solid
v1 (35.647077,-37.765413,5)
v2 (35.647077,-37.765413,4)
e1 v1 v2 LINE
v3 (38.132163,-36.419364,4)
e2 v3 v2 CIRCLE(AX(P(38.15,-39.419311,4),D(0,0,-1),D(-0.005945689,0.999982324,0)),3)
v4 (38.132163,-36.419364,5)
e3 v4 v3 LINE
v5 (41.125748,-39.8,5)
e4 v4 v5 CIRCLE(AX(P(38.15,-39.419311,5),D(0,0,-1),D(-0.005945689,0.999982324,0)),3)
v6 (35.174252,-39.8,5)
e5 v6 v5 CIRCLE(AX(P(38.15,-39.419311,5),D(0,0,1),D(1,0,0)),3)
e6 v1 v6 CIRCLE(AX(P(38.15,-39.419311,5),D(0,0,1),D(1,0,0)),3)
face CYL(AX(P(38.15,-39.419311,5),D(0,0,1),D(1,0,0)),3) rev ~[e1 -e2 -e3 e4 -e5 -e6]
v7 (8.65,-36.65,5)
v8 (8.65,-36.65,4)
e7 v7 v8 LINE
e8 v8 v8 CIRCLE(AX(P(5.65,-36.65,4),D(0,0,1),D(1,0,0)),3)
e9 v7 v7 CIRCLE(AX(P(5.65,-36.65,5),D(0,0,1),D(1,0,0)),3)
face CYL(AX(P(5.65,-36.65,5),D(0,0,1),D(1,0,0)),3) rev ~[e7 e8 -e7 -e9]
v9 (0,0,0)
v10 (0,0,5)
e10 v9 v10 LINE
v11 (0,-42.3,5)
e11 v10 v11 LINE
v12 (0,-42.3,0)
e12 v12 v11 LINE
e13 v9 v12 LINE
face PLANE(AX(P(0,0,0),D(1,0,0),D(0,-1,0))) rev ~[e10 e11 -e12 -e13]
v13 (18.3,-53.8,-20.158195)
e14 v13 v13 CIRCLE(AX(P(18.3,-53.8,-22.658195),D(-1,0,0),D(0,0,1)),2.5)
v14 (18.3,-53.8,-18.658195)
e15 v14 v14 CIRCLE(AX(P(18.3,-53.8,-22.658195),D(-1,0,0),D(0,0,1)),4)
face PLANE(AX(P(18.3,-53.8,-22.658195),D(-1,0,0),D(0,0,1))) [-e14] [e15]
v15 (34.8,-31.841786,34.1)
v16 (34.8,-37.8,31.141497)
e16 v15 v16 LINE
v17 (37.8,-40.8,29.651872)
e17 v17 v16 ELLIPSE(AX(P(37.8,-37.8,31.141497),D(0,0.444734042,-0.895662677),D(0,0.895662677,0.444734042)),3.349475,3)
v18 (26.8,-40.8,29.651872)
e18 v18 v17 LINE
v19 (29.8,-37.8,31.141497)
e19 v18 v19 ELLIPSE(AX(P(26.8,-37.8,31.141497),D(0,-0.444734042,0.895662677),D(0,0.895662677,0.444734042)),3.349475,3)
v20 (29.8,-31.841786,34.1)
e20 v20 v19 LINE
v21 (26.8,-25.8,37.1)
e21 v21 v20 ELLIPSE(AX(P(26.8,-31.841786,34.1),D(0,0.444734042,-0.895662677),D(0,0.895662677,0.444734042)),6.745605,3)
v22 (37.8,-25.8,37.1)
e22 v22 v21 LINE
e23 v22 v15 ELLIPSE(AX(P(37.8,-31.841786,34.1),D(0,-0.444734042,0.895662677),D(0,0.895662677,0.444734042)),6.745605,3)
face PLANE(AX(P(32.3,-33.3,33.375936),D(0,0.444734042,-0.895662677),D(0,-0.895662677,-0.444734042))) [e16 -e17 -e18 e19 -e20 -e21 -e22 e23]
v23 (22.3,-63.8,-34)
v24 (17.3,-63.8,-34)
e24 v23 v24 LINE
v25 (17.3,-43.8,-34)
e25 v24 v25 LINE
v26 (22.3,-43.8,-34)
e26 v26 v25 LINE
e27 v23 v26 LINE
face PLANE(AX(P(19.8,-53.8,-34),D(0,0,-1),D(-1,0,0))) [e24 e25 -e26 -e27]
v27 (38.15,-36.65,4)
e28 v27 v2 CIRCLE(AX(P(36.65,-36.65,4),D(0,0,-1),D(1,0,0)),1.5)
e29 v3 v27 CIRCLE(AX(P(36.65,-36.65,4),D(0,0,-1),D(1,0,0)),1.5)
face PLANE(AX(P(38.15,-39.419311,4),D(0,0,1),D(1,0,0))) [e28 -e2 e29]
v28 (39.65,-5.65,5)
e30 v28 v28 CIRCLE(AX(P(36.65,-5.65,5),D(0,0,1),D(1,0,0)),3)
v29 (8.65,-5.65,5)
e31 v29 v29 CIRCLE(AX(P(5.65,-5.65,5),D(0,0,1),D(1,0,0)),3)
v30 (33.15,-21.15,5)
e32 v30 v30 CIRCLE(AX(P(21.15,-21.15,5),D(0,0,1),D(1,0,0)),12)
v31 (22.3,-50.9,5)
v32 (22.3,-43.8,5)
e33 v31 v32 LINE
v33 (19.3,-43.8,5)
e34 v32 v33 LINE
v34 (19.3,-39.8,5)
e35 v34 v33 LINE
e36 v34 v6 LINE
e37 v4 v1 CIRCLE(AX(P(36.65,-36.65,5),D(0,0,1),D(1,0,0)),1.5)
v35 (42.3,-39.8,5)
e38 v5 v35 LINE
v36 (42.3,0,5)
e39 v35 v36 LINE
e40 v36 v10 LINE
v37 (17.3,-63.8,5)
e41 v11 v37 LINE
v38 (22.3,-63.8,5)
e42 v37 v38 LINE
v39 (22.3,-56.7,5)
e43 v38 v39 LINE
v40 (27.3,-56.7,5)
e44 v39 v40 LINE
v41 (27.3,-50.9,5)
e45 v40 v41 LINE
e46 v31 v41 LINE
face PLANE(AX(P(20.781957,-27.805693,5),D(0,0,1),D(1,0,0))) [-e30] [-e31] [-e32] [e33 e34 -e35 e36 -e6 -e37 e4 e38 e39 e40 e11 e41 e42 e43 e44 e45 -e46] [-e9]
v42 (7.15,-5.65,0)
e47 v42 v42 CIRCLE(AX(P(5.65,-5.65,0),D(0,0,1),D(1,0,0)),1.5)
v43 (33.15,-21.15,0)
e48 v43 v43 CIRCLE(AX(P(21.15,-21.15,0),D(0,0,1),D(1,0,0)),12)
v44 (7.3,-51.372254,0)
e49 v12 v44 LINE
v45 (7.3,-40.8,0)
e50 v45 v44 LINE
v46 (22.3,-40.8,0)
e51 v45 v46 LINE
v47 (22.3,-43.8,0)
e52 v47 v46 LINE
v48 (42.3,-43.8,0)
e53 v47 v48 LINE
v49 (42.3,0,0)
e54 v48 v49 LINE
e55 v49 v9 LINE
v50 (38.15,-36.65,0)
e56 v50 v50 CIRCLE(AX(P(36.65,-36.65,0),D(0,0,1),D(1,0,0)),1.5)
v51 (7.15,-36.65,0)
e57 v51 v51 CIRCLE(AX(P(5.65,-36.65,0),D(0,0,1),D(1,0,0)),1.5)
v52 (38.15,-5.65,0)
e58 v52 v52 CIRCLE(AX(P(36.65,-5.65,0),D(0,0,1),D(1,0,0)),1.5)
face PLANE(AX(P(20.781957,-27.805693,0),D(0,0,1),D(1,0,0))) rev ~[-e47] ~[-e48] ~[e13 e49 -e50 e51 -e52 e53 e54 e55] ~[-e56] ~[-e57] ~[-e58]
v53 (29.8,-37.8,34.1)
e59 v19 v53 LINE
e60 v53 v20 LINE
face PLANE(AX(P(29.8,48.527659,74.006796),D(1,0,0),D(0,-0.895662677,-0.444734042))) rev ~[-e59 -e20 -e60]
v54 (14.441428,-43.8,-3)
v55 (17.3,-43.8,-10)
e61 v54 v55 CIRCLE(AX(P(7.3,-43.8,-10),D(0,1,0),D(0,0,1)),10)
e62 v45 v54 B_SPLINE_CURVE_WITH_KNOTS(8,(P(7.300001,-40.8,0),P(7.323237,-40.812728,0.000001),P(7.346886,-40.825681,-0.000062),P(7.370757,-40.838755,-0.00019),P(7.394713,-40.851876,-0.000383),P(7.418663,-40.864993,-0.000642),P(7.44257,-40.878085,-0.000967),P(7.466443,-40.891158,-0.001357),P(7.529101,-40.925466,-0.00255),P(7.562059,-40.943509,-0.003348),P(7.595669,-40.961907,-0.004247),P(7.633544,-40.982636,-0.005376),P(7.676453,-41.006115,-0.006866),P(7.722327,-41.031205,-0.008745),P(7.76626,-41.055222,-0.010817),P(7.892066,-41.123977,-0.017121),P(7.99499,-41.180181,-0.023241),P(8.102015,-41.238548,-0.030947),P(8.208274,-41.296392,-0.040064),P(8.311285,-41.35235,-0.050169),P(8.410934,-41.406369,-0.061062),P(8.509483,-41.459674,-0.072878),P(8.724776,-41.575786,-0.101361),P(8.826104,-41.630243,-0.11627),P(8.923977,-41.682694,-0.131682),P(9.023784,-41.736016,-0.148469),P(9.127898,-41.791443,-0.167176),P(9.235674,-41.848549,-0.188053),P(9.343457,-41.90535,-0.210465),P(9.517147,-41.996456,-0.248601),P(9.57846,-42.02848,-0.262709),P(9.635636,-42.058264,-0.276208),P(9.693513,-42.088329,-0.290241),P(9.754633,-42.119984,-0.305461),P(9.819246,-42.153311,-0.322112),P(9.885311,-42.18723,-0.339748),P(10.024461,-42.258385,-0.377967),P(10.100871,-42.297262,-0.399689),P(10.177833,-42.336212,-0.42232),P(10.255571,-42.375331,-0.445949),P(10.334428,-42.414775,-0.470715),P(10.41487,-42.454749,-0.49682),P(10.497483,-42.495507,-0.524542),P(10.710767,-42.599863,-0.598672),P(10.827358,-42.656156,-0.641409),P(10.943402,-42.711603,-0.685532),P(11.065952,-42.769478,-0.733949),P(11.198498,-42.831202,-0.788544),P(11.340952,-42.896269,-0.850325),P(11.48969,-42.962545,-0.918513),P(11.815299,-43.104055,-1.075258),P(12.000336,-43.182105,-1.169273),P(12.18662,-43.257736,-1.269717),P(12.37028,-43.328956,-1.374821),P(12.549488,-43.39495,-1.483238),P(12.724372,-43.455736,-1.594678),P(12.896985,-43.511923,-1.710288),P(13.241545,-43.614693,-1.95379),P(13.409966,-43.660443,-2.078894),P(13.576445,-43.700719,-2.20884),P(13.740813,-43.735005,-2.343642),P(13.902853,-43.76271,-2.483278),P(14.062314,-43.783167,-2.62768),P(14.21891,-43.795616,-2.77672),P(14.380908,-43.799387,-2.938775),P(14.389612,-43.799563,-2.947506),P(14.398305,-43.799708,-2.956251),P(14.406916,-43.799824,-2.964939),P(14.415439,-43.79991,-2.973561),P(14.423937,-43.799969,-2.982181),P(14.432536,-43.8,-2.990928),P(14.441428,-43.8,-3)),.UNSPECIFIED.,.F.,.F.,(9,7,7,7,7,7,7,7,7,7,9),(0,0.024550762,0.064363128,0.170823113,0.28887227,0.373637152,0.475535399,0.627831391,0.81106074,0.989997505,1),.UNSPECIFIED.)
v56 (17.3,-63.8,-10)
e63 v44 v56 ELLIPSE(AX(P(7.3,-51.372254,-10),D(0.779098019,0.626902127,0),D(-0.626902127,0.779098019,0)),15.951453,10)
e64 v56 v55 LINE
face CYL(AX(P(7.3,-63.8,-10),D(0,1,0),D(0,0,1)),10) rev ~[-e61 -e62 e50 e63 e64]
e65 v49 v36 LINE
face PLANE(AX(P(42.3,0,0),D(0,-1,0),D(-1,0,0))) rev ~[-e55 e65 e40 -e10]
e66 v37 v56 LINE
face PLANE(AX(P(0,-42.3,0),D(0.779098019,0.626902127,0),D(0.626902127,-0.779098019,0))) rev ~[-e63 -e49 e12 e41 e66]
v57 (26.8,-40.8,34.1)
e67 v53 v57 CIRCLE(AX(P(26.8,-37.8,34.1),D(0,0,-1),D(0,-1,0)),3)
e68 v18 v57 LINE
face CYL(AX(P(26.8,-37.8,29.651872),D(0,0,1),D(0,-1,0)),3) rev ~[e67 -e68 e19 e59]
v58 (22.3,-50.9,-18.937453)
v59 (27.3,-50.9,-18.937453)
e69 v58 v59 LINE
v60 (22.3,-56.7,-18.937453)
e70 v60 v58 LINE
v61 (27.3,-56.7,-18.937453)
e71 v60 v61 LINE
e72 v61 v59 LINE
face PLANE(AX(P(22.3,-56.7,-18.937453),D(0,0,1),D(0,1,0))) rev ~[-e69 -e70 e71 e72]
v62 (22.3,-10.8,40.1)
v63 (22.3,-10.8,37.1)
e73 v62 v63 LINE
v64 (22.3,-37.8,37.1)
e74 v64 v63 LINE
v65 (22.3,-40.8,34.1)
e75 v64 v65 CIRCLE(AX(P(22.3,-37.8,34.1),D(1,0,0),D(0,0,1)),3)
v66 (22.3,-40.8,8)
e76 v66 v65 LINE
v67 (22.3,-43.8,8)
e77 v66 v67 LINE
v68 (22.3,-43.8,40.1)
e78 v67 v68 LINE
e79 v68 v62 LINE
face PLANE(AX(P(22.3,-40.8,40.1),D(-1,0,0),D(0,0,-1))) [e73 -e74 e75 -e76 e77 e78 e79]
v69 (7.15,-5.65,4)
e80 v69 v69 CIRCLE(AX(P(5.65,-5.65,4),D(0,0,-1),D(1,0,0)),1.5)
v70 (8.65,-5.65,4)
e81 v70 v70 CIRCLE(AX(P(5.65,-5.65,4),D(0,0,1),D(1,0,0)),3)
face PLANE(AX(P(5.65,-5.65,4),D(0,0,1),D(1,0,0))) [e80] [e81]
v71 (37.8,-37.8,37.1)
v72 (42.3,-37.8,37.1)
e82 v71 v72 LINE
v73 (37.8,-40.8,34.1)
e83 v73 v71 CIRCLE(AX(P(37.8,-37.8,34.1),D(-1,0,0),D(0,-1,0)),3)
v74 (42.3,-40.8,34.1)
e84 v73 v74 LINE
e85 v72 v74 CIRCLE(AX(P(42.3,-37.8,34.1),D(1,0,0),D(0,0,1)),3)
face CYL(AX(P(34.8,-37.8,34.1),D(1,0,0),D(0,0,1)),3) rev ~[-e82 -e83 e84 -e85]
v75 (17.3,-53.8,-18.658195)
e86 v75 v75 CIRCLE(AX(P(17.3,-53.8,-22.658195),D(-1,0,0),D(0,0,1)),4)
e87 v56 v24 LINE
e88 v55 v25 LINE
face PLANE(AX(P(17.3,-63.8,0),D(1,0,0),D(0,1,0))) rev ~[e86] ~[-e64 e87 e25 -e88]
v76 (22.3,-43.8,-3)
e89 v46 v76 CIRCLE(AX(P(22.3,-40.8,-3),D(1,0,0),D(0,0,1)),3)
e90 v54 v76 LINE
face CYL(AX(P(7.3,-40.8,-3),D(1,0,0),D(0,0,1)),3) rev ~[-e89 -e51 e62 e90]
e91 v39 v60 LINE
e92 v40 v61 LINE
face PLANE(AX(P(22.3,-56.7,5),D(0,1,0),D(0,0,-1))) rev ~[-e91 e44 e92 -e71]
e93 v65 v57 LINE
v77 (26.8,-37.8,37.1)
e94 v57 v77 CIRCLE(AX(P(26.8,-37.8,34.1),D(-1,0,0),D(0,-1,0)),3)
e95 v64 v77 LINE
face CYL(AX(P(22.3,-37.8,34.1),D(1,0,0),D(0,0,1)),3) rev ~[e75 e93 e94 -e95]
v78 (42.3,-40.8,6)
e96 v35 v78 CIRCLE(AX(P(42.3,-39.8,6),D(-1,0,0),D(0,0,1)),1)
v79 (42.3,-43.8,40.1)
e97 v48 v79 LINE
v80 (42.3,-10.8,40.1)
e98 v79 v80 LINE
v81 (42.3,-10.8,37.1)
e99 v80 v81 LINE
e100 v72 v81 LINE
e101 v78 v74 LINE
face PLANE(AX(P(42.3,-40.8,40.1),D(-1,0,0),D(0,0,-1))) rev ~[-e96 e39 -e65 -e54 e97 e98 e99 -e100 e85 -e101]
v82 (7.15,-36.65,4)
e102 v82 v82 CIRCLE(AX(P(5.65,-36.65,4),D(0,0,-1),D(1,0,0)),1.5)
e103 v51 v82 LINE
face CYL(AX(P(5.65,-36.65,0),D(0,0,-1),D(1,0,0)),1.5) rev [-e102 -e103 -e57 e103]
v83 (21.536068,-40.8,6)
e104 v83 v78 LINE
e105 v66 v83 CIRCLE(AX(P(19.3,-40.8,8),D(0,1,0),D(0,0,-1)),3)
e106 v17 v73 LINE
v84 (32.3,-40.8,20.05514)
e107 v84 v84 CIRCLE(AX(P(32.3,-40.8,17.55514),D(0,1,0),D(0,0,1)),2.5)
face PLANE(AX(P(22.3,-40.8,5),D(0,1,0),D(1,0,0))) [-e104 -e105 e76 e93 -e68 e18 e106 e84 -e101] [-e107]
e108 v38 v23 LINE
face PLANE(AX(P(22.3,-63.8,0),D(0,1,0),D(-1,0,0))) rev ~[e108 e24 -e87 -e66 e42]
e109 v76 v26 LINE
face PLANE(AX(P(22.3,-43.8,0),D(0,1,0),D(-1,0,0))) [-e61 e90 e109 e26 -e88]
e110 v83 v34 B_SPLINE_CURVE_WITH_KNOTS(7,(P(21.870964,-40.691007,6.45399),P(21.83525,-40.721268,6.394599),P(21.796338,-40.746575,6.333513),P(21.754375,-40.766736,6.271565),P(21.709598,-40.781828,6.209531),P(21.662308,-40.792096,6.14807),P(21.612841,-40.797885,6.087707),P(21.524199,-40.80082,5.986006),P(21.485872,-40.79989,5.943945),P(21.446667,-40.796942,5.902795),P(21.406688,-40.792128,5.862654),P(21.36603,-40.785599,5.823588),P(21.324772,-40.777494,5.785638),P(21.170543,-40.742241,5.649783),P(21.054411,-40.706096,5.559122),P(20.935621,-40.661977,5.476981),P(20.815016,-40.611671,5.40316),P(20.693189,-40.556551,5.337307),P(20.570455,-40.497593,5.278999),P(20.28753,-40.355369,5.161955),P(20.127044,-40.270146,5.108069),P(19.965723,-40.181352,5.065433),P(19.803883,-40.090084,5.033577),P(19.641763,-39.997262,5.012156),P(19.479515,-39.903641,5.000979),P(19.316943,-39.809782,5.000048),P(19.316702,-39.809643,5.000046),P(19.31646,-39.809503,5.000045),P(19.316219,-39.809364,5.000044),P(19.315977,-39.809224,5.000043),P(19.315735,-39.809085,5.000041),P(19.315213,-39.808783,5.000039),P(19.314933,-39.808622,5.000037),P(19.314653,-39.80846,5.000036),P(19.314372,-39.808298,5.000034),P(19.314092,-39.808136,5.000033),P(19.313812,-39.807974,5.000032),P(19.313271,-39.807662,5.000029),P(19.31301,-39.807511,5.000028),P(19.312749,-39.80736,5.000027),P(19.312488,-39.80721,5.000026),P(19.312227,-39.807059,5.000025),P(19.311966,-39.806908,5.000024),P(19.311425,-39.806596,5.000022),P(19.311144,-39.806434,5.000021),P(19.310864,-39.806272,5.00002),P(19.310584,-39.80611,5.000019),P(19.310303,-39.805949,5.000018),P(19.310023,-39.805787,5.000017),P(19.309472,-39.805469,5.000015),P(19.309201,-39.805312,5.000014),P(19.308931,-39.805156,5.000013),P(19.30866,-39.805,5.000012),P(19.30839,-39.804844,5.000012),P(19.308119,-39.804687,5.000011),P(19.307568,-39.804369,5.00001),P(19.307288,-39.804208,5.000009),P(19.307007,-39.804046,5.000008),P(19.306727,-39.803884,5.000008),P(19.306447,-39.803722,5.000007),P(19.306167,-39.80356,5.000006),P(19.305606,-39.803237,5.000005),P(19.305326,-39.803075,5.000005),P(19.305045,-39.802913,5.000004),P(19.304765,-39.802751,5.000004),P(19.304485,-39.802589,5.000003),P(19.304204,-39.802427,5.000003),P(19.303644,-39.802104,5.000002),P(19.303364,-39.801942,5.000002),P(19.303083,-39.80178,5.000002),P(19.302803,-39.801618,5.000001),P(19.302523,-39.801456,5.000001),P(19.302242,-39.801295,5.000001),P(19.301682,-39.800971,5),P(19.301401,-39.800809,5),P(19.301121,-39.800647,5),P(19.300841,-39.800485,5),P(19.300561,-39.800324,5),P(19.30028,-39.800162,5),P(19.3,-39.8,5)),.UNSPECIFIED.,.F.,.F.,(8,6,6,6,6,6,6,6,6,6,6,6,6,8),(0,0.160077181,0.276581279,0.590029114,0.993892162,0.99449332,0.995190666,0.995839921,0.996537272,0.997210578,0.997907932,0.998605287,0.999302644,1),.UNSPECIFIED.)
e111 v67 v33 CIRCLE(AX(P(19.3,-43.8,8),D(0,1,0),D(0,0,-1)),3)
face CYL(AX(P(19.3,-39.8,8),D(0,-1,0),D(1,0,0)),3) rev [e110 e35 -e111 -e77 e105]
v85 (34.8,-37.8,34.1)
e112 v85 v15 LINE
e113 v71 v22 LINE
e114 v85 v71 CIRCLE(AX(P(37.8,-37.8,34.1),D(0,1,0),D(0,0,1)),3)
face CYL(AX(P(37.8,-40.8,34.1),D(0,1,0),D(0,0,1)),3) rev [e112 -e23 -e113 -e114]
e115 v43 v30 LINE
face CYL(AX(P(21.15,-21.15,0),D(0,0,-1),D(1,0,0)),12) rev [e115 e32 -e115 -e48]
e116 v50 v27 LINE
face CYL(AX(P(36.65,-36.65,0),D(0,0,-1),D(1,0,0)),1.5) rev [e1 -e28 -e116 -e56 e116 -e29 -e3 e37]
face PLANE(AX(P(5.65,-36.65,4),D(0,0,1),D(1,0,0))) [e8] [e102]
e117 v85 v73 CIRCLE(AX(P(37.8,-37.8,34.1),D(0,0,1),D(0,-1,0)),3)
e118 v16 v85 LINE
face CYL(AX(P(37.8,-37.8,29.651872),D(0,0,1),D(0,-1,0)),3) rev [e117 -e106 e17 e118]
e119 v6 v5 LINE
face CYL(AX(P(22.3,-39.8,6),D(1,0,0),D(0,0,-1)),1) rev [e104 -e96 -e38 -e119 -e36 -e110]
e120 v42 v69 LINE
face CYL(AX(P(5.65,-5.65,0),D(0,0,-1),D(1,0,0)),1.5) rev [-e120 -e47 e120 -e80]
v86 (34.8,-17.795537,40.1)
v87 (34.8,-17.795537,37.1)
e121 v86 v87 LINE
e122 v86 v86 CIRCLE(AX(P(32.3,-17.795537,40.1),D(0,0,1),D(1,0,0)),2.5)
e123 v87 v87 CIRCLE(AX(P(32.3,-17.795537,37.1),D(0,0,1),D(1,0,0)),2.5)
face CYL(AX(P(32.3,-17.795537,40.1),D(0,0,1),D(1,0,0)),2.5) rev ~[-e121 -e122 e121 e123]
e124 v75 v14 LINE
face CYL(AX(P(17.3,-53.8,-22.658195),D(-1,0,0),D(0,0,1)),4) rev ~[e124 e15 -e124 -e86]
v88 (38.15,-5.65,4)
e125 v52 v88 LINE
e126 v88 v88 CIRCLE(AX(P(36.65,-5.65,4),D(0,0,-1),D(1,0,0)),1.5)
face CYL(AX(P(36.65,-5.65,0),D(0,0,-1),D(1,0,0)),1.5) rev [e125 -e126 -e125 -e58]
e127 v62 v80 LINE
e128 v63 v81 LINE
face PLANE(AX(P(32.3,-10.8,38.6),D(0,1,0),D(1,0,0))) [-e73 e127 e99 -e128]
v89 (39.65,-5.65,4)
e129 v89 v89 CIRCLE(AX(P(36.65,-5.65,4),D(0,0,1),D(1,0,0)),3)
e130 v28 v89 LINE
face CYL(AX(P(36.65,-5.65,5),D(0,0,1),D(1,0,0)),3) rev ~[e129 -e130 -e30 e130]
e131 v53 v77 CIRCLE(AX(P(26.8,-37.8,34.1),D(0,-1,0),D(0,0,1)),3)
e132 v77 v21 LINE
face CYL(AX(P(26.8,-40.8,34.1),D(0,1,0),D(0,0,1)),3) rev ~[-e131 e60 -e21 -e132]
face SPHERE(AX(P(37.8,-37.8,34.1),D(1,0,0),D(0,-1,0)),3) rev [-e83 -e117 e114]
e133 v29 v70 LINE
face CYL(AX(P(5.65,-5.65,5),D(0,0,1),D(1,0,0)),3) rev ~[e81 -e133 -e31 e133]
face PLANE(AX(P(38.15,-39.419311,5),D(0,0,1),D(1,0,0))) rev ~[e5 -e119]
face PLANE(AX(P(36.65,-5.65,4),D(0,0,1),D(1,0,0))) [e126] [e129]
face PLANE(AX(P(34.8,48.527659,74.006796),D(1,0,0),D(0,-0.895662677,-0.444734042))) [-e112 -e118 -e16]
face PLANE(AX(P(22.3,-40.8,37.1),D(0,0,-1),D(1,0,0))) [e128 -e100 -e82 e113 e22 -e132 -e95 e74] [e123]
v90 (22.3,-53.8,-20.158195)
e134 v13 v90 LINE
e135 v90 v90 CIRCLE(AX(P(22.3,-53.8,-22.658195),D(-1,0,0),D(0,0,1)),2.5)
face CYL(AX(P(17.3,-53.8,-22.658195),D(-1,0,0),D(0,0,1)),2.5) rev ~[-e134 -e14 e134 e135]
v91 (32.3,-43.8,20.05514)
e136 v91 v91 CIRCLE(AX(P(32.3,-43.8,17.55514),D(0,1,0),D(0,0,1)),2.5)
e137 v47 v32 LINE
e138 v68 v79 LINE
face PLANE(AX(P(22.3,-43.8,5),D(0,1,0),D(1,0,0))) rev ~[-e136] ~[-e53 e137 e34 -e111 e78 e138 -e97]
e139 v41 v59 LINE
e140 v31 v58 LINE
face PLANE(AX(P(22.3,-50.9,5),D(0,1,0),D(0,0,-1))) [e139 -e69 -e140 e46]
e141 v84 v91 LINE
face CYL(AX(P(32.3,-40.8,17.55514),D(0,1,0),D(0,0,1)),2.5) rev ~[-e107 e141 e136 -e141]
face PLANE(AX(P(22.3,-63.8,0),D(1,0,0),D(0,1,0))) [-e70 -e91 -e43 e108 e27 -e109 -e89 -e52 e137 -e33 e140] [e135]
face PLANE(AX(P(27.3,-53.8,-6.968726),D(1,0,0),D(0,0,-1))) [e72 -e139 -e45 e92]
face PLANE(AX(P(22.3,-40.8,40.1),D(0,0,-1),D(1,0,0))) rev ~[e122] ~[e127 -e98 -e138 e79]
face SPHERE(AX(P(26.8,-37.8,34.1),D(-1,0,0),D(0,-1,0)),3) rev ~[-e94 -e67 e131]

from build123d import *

# Parameters (mm, degrees)
SKETCH_1_R          = 1.5
SKETCH_1_R_2        = 12
EXTRUDE_1_DEPTH     = 5
SKETCH_2_W          = 5
SKETCH_2_H          = 20
EXTRUDE_2_DEPTH     = 34
FILLET_2_R          = 10
SKETCH_4_W          = 20
SKETCH_4_H          = 3
EXTRUDE_3_DEPTH     = 35.1
FILLET_3_R          = 1
SKETCH_5_W          = 20
SKETCH_5_H          = 3
EXTRUDE_4_DEPTH     = 30
RIB_1_REACH         = 83.986
SKETCH_8_WALL_W     = 182.719813126
SKETCH_8_WALL_H     = 5
SKETCH_9_R          = 2.5
CUT_EXTRUDE_1_DEPTH = 30
SKETCH_10_R         = 2.5
CUT_EXTRUDE_2_DEPTH = 30
SKETCH_11_R         = 2.5
CUT_EXTRUDE_3_DEPTH = 30
SKETCH_12_R         = 3
CUT_EXTRUDE_4_DEPTH = 1
SKETCH_13_R         = 4
CUT_EXTRUDE_5_DEPTH = 1
SKETCH_14_W         = 23.937452614
SKETCH_14_H         = 5.8
EXTRUDE_5_DEPTH     = 5
FILLET_4_R          = 3


with BuildPart() as part:
    # 草图1 → 凸台-拉伸1 (new body)
    # profile 1 of 2: a face of its own
    with BuildSketch(Plane.XY):
        Polygon((42.3, 0), (0, 0), (0, -42.3), (17.3, -63.8), (22.3, -63.8), (22.3, -43.8), (42.3, -43.8), (42.3, -42.3), align=None)
        with Locations((5.65, -36.65)):
            Circle(SKETCH_1_R, mode=Mode.SUBTRACT)
        with Locations((36.65, -36.65)):
            Circle(SKETCH_1_R, mode=Mode.SUBTRACT)
        with Locations((21.15, -21.15)):
            Circle(SKETCH_1_R_2, mode=Mode.SUBTRACT)
        with Locations((5.65, -5.65)):
            Circle(SKETCH_1_R, mode=Mode.SUBTRACT)
        with Locations((36.65, -5.65)):
            Circle(SKETCH_1_R, mode=Mode.SUBTRACT)
    # profile 2 of 2: a face of its own
    with BuildSketch(Plane.XY):
        Polygon((42.3, 0), (0, 0), (0, -42.3), (17.3, -63.8), (22.3, -63.8), (22.3, -43.8), (42.3, -43.8), (42.3, -42.3), align=None)
        with Locations((5.65, -36.65)):
            Circle(SKETCH_1_R, mode=Mode.SUBTRACT)
        with Locations((36.65, -36.65)):
            Circle(SKETCH_1_R, mode=Mode.SUBTRACT)
        with Locations((21.15, -21.15)):
            Circle(SKETCH_1_R_2, mode=Mode.SUBTRACT)
        with Locations((5.65, -5.65)):
            Circle(SKETCH_1_R, mode=Mode.SUBTRACT)
        with Locations((36.65, -5.65)):
            Circle(SKETCH_1_R, mode=Mode.SUBTRACT)
    extrude(amount=EXTRUDE_1_DEPTH)

    # 草图2 → 凸台-拉伸2 (add)
    with BuildSketch(Plane(origin=(0, 0, 0), x_dir=(-1, 0, 0), z_dir=(0, 0, -1))):
        with Locations((-19.8, -53.8)):
            Rectangle(SKETCH_2_W, SKETCH_2_H)
    extrude(amount=EXTRUDE_2_DEPTH)

    # 圆角2
    fillet_2_edges = [part.edges().sort_by_distance(p)[0] for p in [
        (17.3, -53.8, 0),
    ]]
    fillet(fillet_2_edges, radius=FILLET_2_R)

    # 草图4 → 凸台-拉伸3 (add)
    with BuildSketch(Plane.XY.offset(5)):
        with Locations((32.3, -42.3)):
            Rectangle(SKETCH_4_W, SKETCH_4_H)
    extrude(amount=EXTRUDE_3_DEPTH)

    # 圆角3
    fillet_3_edges = [part.edges().sort_by_distance(p)[0] for p in [
        (32.3, -40.8, 5),
    ]]
    fillet(fillet_3_edges, radius=FILLET_3_R)

    # 草图5 → 凸台-拉伸4 (add)
    with BuildSketch(Plane(origin=(0, -40.8, 0), x_dir=(1, 0, 0), z_dir=(0, 1, 0))):
        with Locations((32.3, -38.6)):
            Rectangle(SKETCH_5_W, SKETCH_5_H)
    extrude(amount=EXTRUDE_4_DEPTH)

    # 草图8 wall → 筋1 (add, up to next)
    with BuildSketch(Plane(origin=(32.3, -33.3, 33.375935793), x_dir=(0, -0.895662677282, -0.444734042461), z_dir=(0, 0.444734042461, -0.895662677282)), mode=Mode.PRIVATE) as rib_1_sk1:
        Rectangle(SKETCH_8_WALL_W, SKETCH_8_WALL_H)
    rib_1_tool1 = extrude(rib_1_sk1.sketch, amount=-RIB_1_REACH, mode=Mode.PRIVATE) - part.part
    add(rib_1_tool1.solids().sort_by_distance((32.3, -33.3, 33.375935793))[0])

    # 草图9 → 切除-拉伸1 (cut)
    with BuildSketch(Plane.XY.offset(40.1)):
        with Locations((32.3, -17.795537052)):
            Circle(SKETCH_9_R)
    extrude(amount=-CUT_EXTRUDE_1_DEPTH, mode=Mode.SUBTRACT)

    # 草图10 → 切除-拉伸2 (cut)
    with BuildSketch(Plane(origin=(0, -40.8, 0), x_dir=(1, 0, 0), z_dir=(0, 1, 0))):
        with Locations(Location((32.3, -17.555140143, 0), (0, 0, 270))):
            Circle(SKETCH_10_R)
    extrude(amount=-CUT_EXTRUDE_2_DEPTH, mode=Mode.SUBTRACT)

    # 草图11 → 切除-拉伸3 (cut)
    with BuildSketch(Plane.ZY.offset(-17.3)):
        with Locations((-22.658194914, -53.8)):
            Circle(SKETCH_11_R)
    extrude(amount=-CUT_EXTRUDE_3_DEPTH, mode=Mode.SUBTRACT)

    # 草图12 → 切除-拉伸4 (cut)
    with BuildSketch(Plane.XY.offset(5)):
        with Locations((5.65, -5.65)):
            Circle(SKETCH_12_R)
        with Locations((36.65, -5.65)):
            Circle(SKETCH_12_R)
        with Locations((5.65, -36.65)):
            Circle(SKETCH_12_R)
        with Locations((38.15, -39.419310808)):
            Circle(SKETCH_12_R)
    extrude(amount=-CUT_EXTRUDE_4_DEPTH, mode=Mode.SUBTRACT)

    # 草图13 → 切除-拉伸5 (cut)
    with BuildSketch(Plane.ZY.offset(-17.3)):
        with Locations((-22.658194914, -53.8)):
            Circle(SKETCH_13_R)
    extrude(amount=-CUT_EXTRUDE_5_DEPTH, mode=Mode.SUBTRACT)

    # 草图14 → 凸台-拉伸5 (add)
    with BuildSketch(Plane(origin=(22.3, 0, 0), x_dir=(0, 0, -1), z_dir=(1, 0, 0))):
        with Locations((6.968726307, -53.8)):
            Rectangle(SKETCH_14_W, SKETCH_14_H)
    extrude(amount=EXTRUDE_5_DEPTH)

    # 圆角4
    fillet_4_edges = [part.edges().sort_by_distance(p)[0] for p in [
        (26.05, -40.8, 37.1),
        (38.55, -40.8, 37.1),
        (34.8, -40.8, 33.375935793),
        (34.8, -33.300000001, 37.1),
        (29.8, -40.8, 33.375935793),
        (29.8, -33.300000001, 37.1),
        (22.3, -41.8, 5),
        (14.8, -43.8, 0),
    ]]
    fillet(fillet_4_edges, radius=FILLET_4_R)


solid = part.part
